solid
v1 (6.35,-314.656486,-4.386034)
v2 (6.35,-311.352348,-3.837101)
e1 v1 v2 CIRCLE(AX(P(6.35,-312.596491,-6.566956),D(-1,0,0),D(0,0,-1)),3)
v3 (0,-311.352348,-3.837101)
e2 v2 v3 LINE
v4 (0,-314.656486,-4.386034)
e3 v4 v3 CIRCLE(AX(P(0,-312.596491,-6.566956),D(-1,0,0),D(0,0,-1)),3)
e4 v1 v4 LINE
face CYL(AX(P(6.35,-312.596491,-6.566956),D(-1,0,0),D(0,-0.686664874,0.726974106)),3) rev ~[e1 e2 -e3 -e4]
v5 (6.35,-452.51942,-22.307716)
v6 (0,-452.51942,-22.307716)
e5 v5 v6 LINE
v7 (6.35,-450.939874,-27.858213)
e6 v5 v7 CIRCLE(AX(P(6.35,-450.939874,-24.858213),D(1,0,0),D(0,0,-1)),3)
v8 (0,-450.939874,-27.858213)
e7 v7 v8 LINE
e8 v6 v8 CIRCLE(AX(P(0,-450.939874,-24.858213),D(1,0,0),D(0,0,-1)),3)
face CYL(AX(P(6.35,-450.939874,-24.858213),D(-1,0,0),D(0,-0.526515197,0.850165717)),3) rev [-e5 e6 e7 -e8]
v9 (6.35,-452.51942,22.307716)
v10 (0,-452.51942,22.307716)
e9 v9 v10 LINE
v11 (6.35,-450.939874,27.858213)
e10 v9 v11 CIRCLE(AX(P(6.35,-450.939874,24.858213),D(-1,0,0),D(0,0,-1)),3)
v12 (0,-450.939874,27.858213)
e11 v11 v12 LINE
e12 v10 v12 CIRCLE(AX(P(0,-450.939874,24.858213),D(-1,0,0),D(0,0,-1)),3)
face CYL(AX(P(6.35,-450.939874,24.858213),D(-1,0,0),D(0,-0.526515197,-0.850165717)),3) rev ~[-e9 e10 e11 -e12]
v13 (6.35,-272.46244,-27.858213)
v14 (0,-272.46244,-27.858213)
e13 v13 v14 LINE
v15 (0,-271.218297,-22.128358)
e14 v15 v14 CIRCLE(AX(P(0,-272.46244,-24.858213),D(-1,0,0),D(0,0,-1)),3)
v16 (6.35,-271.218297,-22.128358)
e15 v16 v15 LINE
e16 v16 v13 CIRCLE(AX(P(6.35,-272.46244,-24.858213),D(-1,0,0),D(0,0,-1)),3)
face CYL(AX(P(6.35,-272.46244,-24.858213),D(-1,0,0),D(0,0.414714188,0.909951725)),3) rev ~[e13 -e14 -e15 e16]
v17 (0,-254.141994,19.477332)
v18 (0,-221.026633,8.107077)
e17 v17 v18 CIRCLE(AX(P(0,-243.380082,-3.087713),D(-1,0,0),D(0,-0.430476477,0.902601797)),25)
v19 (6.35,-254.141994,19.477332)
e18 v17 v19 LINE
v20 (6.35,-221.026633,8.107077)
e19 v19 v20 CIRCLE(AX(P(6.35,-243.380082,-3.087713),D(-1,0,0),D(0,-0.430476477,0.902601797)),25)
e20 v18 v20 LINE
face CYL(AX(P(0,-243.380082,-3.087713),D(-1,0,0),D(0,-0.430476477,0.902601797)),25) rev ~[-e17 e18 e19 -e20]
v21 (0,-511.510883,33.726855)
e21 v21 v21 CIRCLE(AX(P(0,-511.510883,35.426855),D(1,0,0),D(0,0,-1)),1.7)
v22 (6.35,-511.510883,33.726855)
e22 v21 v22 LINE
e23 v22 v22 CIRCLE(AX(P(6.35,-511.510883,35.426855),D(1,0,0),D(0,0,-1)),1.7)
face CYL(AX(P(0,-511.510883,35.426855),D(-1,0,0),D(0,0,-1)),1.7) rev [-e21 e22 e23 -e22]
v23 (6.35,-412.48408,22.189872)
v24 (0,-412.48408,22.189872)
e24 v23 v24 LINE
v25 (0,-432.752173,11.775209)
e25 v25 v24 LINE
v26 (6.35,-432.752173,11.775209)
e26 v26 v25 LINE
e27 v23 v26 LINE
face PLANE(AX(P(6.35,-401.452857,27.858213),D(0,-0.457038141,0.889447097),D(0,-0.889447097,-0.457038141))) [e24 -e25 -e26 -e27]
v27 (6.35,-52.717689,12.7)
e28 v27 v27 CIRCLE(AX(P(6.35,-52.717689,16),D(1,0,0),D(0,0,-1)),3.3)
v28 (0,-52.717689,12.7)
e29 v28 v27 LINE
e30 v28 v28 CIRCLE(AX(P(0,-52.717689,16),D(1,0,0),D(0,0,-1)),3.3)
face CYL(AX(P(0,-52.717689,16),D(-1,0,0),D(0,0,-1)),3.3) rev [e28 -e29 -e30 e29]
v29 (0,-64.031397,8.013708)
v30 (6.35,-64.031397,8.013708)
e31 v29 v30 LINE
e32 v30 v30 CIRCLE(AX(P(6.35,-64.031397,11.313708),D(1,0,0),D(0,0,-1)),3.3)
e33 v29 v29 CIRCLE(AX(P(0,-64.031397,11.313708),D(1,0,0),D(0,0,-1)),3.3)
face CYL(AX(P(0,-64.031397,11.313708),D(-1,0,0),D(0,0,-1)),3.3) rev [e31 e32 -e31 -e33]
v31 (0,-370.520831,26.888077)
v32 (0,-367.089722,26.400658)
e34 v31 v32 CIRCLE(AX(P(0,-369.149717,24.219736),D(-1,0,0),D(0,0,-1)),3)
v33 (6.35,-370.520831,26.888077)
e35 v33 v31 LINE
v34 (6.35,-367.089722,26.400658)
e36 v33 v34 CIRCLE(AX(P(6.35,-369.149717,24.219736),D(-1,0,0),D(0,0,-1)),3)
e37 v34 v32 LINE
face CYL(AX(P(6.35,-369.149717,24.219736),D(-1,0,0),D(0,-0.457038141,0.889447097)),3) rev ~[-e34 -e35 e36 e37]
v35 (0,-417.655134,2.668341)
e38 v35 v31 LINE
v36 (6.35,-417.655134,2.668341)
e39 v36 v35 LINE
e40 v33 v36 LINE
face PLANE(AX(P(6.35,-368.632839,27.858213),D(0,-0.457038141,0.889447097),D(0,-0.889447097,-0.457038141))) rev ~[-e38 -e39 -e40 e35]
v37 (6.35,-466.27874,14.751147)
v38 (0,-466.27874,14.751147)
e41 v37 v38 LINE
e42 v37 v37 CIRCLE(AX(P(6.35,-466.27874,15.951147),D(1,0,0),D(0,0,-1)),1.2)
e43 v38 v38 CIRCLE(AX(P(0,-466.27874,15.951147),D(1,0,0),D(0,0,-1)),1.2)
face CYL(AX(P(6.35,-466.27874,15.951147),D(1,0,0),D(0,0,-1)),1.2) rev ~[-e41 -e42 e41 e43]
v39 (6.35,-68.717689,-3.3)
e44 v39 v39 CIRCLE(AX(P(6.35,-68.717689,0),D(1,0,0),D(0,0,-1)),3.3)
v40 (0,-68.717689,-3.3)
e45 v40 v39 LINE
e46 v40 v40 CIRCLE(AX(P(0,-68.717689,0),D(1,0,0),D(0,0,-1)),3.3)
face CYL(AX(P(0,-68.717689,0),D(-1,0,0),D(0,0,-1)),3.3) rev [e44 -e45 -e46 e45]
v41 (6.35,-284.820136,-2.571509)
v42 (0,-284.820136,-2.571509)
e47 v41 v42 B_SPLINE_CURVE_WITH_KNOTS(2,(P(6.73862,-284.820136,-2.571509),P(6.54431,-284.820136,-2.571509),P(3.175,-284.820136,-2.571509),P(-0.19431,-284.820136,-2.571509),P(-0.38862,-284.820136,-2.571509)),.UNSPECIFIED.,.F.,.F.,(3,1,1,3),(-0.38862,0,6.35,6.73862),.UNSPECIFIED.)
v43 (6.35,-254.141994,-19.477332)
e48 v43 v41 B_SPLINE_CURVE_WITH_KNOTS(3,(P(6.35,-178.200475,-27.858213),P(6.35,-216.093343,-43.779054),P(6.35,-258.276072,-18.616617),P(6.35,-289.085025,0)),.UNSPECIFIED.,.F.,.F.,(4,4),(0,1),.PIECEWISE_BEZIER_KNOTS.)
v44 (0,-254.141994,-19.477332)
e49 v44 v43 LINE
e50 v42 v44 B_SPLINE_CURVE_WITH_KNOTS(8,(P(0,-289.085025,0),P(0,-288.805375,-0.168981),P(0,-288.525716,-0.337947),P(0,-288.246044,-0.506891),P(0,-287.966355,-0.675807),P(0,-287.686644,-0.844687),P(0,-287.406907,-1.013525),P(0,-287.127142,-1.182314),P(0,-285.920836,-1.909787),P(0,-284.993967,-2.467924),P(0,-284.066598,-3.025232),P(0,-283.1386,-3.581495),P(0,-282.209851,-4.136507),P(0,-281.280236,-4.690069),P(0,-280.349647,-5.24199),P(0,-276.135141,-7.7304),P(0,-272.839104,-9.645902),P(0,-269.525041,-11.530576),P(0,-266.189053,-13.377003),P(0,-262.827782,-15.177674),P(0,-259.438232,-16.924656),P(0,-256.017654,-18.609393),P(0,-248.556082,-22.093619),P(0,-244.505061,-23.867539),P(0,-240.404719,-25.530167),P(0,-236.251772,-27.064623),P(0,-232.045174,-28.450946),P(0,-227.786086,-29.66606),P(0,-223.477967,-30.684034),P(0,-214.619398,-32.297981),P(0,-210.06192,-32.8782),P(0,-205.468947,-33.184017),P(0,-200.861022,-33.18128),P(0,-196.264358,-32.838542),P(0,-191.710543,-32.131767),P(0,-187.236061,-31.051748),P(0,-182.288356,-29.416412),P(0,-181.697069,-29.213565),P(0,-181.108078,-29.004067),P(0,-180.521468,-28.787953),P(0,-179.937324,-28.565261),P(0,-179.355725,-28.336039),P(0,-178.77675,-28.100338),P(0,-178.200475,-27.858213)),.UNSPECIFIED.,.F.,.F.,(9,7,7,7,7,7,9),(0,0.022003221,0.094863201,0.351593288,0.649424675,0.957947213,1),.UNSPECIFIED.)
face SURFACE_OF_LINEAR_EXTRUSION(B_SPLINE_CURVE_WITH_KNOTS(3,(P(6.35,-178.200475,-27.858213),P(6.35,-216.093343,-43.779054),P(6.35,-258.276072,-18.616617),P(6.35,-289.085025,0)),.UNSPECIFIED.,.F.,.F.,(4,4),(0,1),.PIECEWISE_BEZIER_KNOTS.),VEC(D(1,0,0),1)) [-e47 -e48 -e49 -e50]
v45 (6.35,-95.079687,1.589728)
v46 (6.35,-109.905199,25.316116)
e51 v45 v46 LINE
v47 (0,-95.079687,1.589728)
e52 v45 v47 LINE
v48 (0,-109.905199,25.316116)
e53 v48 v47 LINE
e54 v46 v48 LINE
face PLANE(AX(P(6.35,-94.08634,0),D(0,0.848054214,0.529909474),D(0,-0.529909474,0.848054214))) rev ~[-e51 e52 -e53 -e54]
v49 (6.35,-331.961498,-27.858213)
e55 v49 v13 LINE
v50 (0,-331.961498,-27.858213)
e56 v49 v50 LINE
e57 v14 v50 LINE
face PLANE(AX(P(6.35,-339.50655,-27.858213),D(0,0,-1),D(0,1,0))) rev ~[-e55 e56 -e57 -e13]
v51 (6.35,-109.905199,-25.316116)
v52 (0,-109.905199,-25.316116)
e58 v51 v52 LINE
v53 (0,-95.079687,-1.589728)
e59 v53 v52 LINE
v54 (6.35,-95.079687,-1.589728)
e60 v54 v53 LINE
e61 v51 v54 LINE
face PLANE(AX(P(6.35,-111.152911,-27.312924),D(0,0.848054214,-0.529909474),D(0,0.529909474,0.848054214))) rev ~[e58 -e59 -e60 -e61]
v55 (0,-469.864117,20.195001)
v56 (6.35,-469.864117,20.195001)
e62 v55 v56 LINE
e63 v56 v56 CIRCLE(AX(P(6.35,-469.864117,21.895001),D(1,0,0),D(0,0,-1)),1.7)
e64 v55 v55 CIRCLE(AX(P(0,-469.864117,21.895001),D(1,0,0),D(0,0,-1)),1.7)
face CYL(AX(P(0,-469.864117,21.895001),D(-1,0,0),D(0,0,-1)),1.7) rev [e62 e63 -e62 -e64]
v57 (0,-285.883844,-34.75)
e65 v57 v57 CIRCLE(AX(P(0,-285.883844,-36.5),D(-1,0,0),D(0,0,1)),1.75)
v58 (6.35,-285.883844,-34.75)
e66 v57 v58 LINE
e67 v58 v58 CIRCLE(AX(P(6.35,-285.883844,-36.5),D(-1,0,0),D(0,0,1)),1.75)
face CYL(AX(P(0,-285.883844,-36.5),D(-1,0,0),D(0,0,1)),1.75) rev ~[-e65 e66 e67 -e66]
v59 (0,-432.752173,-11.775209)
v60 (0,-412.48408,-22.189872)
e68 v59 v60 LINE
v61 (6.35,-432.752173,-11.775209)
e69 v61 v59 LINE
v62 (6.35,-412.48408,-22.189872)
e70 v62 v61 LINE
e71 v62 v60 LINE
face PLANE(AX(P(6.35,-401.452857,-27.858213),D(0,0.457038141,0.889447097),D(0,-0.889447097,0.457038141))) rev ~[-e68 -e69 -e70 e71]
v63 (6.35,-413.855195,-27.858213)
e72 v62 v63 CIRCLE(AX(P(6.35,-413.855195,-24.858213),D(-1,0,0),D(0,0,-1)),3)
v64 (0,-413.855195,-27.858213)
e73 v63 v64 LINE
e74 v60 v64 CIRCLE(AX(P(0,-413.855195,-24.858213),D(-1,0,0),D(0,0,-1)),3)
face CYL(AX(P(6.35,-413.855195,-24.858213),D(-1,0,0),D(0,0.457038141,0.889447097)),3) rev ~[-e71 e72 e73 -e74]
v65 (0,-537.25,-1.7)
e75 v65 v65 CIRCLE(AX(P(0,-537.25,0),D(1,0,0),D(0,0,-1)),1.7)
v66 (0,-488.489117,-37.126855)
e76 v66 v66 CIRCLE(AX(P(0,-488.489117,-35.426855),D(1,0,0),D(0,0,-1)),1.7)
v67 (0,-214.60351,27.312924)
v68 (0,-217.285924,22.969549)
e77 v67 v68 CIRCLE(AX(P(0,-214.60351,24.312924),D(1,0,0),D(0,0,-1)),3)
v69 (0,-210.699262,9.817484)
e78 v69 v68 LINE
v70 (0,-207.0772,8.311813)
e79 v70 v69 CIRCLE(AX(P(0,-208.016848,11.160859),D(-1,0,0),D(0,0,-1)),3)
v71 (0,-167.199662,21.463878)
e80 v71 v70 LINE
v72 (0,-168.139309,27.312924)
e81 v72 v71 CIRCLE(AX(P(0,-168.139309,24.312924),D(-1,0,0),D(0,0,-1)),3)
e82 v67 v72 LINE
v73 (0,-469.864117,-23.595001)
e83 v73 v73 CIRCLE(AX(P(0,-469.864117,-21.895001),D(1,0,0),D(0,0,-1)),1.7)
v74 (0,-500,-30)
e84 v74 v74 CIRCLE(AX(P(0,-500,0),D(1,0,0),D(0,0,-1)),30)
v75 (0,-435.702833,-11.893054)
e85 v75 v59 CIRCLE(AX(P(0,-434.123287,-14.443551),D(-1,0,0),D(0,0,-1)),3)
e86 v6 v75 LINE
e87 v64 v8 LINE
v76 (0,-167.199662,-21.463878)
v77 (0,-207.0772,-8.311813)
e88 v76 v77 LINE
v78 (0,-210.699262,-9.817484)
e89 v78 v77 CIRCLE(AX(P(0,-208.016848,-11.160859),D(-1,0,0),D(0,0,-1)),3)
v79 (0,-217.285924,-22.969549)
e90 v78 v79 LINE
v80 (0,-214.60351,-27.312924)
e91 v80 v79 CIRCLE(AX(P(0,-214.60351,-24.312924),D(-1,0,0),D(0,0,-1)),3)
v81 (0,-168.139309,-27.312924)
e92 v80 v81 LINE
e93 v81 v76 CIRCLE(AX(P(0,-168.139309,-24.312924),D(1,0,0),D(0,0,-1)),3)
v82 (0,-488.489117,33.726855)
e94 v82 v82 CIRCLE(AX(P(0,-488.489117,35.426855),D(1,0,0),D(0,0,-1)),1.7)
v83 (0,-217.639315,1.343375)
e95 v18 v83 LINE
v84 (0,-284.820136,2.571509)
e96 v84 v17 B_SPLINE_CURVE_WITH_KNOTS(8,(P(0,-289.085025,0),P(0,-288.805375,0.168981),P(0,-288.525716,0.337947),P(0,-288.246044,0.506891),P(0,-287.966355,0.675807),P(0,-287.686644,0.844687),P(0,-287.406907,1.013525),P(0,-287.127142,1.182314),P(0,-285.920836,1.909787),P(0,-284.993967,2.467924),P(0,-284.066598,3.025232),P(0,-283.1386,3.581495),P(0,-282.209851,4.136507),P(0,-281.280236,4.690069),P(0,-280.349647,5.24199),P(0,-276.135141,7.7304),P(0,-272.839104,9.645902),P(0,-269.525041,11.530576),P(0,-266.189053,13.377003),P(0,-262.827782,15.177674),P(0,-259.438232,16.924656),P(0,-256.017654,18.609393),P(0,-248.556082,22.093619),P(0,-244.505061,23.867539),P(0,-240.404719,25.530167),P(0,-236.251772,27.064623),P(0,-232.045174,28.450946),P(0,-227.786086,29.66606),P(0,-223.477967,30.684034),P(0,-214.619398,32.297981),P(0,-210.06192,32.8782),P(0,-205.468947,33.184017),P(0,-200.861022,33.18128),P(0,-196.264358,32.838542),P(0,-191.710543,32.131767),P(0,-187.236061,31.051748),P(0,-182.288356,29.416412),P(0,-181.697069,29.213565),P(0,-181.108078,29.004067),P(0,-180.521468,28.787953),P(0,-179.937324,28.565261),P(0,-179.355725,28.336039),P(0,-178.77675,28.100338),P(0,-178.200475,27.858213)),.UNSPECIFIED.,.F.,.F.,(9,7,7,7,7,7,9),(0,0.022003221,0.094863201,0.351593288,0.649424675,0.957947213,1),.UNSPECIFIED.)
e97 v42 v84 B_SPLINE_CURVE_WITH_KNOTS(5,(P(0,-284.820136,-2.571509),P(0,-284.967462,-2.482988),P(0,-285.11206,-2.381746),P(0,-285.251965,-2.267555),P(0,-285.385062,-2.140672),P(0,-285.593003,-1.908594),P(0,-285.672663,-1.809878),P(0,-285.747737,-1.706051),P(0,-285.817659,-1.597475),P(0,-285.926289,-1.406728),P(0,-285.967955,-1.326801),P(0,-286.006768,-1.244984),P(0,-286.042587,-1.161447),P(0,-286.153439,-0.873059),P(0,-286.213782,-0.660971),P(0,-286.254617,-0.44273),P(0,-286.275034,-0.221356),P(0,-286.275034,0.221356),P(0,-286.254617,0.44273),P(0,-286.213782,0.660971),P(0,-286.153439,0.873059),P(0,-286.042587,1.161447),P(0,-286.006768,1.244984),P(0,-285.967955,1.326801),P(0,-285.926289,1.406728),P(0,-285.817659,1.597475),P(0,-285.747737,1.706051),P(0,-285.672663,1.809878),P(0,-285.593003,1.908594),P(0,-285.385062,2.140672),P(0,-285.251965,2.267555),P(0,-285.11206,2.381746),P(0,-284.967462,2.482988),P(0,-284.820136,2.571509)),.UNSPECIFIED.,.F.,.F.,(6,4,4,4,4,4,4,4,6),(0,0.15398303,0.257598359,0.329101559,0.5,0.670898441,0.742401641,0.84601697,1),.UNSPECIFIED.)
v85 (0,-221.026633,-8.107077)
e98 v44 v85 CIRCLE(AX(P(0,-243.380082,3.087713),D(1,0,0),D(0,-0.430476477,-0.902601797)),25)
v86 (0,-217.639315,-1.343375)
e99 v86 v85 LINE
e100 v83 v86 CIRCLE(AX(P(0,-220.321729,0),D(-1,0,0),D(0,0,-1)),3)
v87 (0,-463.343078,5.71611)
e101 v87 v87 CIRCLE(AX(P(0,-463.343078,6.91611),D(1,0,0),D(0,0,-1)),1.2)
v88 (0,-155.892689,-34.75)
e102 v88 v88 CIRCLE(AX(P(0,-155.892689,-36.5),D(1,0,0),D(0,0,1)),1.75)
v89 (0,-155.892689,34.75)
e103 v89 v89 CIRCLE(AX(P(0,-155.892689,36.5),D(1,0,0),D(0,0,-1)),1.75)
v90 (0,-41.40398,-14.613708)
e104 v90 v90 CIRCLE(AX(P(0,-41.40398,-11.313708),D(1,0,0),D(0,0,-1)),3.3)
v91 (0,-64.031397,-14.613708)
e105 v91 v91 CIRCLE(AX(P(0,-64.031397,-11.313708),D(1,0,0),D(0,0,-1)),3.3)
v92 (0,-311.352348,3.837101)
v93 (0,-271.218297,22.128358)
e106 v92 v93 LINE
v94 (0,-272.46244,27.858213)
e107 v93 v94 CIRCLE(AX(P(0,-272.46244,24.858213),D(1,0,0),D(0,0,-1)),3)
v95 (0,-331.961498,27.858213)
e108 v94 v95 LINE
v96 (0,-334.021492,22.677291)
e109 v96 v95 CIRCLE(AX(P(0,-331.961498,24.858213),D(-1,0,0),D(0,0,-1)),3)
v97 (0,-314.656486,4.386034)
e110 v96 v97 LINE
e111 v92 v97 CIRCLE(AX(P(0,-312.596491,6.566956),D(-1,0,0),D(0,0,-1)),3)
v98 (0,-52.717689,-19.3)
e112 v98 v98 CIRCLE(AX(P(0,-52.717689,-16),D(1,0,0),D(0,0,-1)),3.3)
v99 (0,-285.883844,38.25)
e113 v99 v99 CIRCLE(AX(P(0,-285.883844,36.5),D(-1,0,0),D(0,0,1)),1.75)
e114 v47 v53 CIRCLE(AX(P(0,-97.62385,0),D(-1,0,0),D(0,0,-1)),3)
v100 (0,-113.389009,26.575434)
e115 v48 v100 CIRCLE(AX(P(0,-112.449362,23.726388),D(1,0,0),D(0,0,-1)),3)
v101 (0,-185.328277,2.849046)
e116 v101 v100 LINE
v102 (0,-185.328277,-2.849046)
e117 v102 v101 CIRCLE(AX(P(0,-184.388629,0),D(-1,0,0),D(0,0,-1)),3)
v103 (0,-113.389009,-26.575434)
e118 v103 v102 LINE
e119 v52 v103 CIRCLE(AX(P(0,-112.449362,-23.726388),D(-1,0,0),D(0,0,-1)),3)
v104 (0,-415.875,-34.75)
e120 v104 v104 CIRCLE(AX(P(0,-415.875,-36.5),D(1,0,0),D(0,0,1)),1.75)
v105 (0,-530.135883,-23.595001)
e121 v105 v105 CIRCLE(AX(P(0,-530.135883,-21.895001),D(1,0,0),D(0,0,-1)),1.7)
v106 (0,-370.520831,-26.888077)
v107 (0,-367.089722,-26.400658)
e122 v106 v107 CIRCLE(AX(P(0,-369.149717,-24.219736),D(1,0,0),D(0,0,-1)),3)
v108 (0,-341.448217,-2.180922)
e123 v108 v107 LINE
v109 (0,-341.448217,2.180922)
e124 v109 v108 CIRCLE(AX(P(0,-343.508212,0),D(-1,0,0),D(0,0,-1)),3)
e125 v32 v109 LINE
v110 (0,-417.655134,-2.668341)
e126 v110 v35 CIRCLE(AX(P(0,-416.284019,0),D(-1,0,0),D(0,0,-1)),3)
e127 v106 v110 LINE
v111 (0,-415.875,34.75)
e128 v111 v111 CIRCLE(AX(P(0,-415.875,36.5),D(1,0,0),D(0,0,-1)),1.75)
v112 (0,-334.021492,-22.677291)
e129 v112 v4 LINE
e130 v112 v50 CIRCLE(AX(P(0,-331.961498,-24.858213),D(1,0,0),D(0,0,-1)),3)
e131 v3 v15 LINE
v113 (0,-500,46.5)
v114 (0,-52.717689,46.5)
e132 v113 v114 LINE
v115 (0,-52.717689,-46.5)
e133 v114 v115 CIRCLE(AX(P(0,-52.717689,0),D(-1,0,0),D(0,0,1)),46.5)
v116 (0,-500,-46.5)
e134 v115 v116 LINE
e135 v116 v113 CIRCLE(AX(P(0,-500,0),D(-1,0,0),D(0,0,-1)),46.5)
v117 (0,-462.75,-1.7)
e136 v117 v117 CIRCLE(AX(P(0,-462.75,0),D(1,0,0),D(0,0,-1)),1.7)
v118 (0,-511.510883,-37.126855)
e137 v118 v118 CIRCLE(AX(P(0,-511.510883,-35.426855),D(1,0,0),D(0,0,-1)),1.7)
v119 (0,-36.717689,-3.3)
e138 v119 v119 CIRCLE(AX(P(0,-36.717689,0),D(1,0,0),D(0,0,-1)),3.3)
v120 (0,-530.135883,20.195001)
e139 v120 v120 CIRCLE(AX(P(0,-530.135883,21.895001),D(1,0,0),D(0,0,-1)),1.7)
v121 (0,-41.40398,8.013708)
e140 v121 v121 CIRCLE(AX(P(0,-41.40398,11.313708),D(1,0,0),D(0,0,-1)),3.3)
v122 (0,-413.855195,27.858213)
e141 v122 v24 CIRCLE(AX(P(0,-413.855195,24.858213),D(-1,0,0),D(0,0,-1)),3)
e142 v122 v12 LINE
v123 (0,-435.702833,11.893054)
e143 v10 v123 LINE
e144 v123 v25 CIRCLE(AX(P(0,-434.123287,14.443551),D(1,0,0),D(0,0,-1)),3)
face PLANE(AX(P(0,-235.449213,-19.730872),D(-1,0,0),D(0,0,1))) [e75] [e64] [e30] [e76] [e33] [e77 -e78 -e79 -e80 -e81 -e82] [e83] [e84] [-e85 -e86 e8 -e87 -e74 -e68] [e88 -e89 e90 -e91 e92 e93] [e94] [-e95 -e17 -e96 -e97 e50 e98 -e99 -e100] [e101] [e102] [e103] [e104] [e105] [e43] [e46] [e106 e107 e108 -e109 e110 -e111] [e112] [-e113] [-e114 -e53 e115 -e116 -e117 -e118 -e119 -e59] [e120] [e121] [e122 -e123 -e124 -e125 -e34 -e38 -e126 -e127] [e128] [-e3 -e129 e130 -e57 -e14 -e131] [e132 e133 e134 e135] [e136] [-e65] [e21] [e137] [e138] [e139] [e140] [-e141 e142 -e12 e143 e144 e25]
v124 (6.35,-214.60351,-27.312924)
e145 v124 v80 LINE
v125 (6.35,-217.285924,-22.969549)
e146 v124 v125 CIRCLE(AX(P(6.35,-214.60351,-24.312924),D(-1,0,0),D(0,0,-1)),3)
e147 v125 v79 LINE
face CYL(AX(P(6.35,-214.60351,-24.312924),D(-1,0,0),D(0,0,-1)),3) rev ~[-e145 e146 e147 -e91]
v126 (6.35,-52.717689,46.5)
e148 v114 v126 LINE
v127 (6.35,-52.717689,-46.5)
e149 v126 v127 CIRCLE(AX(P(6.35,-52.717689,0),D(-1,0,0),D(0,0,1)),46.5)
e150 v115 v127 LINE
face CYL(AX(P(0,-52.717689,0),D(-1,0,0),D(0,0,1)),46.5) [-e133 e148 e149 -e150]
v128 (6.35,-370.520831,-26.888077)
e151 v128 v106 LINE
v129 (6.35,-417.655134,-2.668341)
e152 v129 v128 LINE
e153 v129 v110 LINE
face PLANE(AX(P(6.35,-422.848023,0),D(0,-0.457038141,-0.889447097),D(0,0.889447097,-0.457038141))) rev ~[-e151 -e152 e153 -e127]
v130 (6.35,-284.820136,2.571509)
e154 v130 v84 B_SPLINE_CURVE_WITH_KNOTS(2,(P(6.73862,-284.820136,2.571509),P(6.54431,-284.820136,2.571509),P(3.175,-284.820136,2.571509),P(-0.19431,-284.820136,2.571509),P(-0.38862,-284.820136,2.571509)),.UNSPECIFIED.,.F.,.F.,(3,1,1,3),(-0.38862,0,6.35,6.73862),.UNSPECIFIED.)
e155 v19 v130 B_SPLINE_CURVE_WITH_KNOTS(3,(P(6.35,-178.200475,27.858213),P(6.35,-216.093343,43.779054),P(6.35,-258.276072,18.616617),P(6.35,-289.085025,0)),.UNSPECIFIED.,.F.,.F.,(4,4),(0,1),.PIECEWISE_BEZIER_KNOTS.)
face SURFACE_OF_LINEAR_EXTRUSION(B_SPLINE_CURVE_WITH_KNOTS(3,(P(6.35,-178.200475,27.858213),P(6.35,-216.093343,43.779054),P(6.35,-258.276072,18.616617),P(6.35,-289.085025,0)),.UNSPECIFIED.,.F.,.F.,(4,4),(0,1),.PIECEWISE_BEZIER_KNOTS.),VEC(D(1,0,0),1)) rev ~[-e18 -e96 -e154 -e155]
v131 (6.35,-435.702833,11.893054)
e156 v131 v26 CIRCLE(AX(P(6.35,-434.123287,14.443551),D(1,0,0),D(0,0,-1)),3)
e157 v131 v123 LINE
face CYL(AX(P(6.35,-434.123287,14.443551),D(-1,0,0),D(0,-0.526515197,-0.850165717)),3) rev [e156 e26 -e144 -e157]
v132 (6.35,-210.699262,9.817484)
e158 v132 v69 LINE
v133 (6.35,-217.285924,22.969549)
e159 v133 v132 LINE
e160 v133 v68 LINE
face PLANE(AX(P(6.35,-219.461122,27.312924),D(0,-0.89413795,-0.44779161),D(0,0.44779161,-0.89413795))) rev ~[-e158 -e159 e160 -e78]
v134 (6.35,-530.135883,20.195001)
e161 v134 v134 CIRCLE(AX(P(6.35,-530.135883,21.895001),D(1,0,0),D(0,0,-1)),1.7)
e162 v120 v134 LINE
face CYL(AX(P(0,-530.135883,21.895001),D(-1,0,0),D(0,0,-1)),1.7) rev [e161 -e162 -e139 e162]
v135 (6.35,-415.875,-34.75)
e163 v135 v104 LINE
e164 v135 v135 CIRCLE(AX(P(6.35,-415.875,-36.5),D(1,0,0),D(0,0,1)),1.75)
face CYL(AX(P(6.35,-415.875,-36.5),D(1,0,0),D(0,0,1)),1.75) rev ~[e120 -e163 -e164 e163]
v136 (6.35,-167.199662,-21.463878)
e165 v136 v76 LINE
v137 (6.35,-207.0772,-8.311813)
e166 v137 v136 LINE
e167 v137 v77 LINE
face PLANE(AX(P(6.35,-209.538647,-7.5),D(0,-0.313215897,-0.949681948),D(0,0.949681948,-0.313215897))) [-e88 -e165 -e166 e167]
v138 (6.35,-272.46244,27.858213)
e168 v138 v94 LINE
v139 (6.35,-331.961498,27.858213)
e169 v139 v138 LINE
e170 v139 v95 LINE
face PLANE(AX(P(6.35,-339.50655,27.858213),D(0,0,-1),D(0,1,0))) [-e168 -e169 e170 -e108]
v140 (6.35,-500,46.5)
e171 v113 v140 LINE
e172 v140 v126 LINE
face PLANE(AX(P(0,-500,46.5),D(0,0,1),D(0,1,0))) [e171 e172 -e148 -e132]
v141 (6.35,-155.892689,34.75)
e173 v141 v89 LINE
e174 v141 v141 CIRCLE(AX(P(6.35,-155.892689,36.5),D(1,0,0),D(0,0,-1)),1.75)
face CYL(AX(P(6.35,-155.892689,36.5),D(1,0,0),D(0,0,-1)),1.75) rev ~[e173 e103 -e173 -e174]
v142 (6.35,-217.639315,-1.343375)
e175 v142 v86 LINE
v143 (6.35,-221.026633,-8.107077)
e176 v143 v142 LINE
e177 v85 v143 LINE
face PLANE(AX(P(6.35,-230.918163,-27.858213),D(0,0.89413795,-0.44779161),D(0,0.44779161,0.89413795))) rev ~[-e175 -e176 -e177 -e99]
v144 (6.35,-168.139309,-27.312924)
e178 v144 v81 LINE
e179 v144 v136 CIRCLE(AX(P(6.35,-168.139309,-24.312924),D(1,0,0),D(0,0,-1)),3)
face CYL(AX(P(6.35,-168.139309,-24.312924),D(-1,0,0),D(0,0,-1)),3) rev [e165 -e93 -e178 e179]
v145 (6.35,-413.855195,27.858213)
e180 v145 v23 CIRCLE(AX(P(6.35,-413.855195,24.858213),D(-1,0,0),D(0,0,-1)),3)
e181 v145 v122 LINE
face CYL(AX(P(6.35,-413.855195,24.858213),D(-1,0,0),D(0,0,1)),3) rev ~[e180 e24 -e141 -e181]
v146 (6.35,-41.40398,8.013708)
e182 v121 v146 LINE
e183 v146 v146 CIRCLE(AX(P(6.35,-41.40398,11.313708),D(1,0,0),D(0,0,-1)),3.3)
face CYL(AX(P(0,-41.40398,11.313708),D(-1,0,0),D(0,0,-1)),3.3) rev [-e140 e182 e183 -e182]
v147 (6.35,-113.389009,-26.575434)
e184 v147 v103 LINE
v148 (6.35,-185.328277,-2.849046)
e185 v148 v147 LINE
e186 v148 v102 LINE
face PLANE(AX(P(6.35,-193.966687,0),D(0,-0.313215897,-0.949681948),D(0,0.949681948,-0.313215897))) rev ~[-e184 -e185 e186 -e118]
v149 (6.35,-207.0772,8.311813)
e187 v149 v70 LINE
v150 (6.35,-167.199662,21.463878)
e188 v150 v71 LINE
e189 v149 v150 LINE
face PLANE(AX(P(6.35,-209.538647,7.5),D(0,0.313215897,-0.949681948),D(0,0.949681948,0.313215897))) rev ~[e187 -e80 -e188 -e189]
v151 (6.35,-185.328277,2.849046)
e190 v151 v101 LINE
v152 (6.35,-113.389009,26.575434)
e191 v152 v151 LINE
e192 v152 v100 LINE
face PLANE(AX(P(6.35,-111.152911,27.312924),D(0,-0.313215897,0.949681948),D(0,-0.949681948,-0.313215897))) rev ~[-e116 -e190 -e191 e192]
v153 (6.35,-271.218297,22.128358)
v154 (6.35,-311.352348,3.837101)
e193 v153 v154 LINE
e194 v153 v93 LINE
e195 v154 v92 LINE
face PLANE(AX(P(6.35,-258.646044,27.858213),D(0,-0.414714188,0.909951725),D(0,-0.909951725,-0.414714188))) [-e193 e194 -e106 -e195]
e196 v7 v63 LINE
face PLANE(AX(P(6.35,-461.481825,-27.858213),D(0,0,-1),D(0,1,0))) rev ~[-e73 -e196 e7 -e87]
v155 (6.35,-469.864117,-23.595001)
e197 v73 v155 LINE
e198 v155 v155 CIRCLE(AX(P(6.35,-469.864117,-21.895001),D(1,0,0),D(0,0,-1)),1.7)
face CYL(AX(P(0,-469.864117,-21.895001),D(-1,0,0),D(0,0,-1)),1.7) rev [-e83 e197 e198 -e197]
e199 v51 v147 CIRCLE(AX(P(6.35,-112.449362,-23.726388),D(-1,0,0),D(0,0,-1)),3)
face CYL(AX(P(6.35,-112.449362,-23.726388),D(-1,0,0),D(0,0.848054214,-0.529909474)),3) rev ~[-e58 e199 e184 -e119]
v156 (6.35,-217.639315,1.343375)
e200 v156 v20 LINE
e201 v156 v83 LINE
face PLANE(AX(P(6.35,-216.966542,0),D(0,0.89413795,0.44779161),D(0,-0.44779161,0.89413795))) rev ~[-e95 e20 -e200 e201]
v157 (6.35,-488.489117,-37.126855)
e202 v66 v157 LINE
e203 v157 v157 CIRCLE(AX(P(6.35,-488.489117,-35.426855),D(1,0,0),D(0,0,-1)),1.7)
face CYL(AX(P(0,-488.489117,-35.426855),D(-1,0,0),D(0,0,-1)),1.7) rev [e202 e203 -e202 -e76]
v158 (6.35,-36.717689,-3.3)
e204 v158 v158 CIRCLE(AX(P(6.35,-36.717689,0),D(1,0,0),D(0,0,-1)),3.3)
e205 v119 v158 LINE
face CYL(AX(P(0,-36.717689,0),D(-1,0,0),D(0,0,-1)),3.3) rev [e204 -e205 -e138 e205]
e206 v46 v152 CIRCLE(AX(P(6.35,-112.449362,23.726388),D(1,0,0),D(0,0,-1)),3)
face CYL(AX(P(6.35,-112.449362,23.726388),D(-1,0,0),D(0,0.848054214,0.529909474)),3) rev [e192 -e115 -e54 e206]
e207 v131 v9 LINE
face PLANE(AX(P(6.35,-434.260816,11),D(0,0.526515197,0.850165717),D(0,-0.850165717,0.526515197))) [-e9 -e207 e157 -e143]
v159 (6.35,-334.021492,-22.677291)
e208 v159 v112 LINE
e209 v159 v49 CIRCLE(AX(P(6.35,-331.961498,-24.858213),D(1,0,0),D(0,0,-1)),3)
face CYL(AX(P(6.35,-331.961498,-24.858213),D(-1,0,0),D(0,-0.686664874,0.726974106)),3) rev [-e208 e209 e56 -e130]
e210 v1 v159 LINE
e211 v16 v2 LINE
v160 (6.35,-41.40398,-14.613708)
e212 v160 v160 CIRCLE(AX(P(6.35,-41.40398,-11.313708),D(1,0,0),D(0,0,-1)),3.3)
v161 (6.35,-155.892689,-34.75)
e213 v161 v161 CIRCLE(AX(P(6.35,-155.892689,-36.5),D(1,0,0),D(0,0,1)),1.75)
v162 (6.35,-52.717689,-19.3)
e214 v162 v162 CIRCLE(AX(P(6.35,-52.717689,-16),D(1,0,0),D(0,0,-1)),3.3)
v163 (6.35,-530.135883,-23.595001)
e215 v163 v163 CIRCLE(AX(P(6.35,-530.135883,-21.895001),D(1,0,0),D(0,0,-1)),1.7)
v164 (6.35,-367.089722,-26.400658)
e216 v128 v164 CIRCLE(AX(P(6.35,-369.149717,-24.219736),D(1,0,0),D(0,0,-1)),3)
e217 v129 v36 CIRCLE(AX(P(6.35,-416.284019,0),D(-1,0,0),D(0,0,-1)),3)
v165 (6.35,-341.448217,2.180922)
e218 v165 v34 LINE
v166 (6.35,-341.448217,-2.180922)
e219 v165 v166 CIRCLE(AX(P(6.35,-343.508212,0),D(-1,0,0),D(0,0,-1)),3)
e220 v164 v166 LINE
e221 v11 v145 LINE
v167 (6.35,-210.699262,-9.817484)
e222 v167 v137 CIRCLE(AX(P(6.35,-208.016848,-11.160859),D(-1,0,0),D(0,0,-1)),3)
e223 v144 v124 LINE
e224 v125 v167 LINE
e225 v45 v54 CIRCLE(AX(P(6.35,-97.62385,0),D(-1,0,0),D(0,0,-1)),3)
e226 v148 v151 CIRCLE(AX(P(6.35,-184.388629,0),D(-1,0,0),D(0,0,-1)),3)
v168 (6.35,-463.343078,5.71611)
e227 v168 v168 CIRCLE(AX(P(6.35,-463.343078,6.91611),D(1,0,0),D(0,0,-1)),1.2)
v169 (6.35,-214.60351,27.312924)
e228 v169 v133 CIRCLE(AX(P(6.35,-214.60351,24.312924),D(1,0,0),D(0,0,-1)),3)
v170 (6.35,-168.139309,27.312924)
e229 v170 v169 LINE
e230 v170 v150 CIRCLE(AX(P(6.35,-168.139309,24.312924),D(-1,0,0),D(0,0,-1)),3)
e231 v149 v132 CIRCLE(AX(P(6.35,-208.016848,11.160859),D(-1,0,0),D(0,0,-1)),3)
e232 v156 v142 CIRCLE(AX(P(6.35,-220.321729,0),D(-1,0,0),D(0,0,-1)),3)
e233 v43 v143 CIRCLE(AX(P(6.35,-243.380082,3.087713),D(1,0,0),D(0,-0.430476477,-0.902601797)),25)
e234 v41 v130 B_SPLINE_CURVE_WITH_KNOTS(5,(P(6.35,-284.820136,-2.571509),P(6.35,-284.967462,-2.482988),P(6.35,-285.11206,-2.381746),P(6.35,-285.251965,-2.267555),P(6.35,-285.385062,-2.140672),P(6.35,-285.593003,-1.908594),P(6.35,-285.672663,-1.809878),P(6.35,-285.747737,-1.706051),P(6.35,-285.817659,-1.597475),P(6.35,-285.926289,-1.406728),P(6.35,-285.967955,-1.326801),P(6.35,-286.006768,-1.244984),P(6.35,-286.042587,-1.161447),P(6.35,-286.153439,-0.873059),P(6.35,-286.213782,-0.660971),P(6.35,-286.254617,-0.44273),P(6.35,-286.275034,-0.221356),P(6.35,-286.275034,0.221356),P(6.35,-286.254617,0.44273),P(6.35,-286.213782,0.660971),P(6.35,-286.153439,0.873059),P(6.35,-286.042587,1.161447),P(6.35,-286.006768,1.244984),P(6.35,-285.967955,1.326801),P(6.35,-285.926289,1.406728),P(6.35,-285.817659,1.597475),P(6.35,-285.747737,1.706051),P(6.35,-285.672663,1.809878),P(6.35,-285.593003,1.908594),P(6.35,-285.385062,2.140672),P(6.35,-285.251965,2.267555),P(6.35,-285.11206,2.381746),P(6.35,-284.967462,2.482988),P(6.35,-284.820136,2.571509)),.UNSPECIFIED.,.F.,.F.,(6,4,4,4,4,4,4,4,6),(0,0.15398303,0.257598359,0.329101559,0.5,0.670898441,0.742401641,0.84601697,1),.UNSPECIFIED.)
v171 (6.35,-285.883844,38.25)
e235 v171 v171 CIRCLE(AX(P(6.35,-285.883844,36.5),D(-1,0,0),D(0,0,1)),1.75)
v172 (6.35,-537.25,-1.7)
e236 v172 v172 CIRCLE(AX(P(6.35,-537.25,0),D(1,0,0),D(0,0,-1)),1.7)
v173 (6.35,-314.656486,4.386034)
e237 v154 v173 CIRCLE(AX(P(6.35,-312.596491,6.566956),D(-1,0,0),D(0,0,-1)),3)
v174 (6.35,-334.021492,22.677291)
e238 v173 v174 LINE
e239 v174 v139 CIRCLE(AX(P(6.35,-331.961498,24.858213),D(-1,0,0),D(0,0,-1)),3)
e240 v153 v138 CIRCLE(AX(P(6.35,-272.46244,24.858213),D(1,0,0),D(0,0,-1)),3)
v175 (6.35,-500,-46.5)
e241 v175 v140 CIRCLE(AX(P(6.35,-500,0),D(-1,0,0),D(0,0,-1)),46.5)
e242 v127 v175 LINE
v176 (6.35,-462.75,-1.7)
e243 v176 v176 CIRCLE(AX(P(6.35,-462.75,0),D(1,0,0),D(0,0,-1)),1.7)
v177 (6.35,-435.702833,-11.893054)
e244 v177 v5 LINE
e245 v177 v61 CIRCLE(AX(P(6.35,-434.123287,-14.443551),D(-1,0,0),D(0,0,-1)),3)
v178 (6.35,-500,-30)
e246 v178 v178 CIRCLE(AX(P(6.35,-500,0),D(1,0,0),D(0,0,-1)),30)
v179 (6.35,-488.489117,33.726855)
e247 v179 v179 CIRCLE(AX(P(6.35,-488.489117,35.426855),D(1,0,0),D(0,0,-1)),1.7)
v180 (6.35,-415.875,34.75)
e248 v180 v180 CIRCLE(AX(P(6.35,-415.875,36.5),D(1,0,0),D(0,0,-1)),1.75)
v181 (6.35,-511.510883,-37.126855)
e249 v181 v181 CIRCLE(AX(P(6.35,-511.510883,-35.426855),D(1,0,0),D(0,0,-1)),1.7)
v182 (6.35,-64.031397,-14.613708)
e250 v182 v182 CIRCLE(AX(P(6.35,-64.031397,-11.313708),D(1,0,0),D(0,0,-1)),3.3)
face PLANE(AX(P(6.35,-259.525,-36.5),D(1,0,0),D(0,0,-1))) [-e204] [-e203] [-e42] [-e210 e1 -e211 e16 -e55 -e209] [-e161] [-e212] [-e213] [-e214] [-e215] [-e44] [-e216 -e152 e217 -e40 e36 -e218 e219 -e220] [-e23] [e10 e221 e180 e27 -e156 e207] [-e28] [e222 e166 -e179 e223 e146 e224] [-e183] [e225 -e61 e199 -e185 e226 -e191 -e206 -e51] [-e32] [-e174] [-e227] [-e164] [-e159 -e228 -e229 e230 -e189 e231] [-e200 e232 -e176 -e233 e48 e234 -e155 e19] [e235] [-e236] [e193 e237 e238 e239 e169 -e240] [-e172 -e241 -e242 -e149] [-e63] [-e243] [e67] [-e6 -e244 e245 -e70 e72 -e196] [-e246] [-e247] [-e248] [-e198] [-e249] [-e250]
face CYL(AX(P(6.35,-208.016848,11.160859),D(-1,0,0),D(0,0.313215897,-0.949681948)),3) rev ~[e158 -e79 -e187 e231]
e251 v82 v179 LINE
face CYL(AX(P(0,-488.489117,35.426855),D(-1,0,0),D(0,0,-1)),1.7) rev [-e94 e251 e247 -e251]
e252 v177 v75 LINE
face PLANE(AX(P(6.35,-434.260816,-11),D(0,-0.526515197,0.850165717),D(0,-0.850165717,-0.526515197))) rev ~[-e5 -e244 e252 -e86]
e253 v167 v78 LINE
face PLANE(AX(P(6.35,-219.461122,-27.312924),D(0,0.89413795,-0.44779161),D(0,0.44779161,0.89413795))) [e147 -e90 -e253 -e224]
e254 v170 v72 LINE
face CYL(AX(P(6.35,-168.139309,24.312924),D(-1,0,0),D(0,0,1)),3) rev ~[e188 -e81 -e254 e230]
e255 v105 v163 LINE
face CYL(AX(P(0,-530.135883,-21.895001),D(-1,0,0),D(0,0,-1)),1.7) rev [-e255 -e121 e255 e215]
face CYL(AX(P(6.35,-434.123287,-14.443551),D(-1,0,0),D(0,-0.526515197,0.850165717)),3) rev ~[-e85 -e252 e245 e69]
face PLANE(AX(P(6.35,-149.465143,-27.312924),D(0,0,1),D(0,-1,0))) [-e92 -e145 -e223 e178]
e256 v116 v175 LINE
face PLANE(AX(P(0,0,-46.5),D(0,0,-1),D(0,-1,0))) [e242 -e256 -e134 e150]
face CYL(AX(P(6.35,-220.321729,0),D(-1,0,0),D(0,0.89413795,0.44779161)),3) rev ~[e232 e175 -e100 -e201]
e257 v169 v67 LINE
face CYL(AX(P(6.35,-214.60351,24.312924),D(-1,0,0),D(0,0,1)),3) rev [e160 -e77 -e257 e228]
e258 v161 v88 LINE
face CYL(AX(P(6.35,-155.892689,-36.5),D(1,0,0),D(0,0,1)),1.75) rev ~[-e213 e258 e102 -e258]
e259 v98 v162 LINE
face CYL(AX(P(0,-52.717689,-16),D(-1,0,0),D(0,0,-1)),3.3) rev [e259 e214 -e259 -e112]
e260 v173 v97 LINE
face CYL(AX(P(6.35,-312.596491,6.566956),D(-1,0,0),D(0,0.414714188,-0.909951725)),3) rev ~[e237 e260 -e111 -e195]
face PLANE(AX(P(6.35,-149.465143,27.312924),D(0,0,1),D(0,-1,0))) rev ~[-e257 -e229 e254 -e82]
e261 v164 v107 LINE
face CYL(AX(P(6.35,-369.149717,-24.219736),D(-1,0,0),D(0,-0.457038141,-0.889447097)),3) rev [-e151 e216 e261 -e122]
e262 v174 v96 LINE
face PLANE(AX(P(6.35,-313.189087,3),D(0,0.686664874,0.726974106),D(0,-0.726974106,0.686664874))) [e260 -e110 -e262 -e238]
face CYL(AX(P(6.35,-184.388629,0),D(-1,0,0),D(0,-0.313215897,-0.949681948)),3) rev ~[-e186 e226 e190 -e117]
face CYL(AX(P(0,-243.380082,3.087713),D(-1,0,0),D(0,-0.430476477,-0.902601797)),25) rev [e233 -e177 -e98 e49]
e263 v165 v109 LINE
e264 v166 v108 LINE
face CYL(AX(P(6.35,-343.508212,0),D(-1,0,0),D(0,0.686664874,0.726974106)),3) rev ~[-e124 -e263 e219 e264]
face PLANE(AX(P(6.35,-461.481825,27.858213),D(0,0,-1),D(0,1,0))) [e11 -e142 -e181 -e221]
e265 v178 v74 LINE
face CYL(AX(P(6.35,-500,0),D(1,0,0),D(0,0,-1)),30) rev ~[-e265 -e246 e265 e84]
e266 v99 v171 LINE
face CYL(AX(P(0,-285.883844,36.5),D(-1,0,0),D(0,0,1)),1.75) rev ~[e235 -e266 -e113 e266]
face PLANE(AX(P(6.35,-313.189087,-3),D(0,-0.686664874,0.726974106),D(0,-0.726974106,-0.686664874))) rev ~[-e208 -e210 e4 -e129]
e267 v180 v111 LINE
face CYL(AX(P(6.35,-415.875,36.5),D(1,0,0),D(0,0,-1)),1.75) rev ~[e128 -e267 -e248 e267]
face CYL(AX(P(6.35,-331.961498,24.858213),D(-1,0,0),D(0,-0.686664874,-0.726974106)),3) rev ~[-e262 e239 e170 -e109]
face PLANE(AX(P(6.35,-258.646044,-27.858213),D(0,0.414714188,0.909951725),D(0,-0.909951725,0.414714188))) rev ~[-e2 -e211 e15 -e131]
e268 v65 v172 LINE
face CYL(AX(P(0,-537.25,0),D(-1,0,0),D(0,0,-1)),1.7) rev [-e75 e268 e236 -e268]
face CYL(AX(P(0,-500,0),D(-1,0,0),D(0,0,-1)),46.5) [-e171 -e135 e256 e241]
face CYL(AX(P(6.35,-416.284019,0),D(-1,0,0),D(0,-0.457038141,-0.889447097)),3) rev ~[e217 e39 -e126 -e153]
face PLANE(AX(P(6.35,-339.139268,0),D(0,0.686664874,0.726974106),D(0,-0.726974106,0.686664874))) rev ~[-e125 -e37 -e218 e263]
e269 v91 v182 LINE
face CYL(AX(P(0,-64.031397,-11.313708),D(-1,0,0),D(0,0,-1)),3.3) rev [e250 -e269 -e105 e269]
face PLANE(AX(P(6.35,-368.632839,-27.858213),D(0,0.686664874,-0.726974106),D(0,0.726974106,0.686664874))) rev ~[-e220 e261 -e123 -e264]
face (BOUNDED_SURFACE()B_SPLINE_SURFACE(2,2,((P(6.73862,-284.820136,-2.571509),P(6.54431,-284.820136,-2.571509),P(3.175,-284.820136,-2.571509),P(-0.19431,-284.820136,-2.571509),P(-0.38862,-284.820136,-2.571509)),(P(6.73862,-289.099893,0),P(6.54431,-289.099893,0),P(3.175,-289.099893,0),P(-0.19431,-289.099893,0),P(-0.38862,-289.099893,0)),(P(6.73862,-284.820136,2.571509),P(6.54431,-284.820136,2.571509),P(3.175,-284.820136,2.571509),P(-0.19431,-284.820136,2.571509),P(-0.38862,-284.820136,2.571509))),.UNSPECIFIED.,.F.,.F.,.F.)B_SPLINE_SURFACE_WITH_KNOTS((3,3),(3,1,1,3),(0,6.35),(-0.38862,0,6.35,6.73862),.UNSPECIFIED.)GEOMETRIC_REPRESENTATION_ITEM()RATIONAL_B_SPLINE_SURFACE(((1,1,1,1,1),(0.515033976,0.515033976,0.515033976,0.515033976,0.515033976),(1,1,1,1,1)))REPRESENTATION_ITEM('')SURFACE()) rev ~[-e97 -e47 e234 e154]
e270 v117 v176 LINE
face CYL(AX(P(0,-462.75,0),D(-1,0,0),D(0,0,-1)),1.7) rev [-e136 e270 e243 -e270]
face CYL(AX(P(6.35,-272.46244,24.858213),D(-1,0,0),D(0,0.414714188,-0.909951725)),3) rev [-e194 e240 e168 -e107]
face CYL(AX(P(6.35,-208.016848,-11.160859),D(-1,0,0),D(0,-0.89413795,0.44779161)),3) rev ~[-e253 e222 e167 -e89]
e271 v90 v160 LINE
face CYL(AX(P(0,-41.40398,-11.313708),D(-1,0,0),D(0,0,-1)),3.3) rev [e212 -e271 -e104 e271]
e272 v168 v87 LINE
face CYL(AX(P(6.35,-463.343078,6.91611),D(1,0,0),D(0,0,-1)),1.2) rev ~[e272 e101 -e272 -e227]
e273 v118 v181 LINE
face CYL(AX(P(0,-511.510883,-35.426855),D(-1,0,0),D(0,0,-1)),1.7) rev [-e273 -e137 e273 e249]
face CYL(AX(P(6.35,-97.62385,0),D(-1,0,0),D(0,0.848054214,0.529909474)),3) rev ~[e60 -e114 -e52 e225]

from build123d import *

# Parameters (mm, degrees)
SKETCH1_R                            = 3.3
SKETCH1_R_2                          = 1.7
SKETCH1_R_3                          = 26
BOSS_EXTRUDE1_DEPTH                  = 6.35
CUT_EXTRUDE1_DEPTH                   = 549.511460682
FILLET1_R                            = 3
SKETCH4_R                            = 1.75
CUT_EXTRUDE2_DEPTH                   = 549.511460792
SKETCH5_R                            = 1.2
CUT_EXTRUDE4_DEPTH                   = 549.511460792
BOSS_EXTRUDE2_START                  = -6.35
BOSS_EXTRUDE2_DEPTH                  = 6.35
TAP_DRILL_FOR_M3X0_5_TAP1_AT_2_COUNT = 2
TAP_DRILL_FOR_M3X0_5_TAP1_AT_2_PITCH = 13.03070812
CIRPATTERN1_COUNT                    = 2
CIRPATTERN1_ANGLE                    = 90
CUT_EXTRUDE5_DEPTH                   = 549.511460792
SKETCH10_R                           = 30
CUT_EXTRUDE6_DEPTH                   = 549.511460792
SKETCH11_W                           = 93
SKETCH11_H                           = 52.717688801
CUT_EXTRUDE7_DEPTH                   = 549.511460792
BOSS_EXTRUDE3_DEPTH                  = 6.35
SKETCH13_R                           = 1.75
CUT_EXTRUDE8_DEPTH                   = 549.511460792
SKETCH14_R                           = 1.75
BOSS_EXTRUDE4_DEPTH                  = 6.35


with BuildPart() as part:
    # Sketch1 → Boss-Extrude1 (new body)
    with BuildSketch(Plane(origin=(0, 0, 0), x_dir=(0, -1, 0), z_dir=(1, 0, 0))):
        with BuildLine():
            Line((0, 46.5), (500, 46.5))
            ThreePointArc((500, 46.5), (546.5, 0), (500, -46.5))
            Line((500, -46.5), (0, -46.5))
            ThreePointArc((0, -46.5), (-46.5, 0), (0, 46.5))
        make_face()
        with Locations(Location((-16, 0, 0), (0, 0, 90))):
            Circle(SKETCH1_R, mode=Mode.SUBTRACT)
        with Locations(Location((-11.313708499, 11.313708499, 0), (0, 0, 90))):
            Circle(SKETCH1_R, mode=Mode.SUBTRACT)
        with Locations(Location((0, 16, 0), (0, 0, 90))):
            Circle(SKETCH1_R, mode=Mode.SUBTRACT)
        with Locations(Location((11.313708499, 11.313708499, 0), (0, 0, 90))):
            Circle(SKETCH1_R, mode=Mode.SUBTRACT)
        with Locations(Location((16, 0, 0), (0, 0, 90))):
            Circle(SKETCH1_R, mode=Mode.SUBTRACT)
        with Locations(Location((11.313708499, -11.313708499, 0), (0, 0, 90))):
            Circle(SKETCH1_R, mode=Mode.SUBTRACT)
        with Locations(Location((537.25, 0, 0), (0, 0, 90))):
            Circle(SKETCH1_R_2, mode=Mode.SUBTRACT)
        with Locations(Location((530.13588304, -21.895000648, 0), (0, 0, 90))):
            Circle(SKETCH1_R_2, mode=Mode.SUBTRACT)
        with Locations(Location((511.51088304, -35.426855232, 0), (0, 0, 90))):
            Circle(SKETCH1_R_2, mode=Mode.SUBTRACT)
        with Locations(Location((488.48911696, -35.426855232, 0), (0, 0, 90))):
            Circle(SKETCH1_R_2, mode=Mode.SUBTRACT)
        with Locations(Location((469.86411696, -21.895000648, 0), (0, 0, 90))):
            Circle(SKETCH1_R_2, mode=Mode.SUBTRACT)
        with Locations(Location((462.75, 0, 0), (0, 0, 90))):
            Circle(SKETCH1_R_2, mode=Mode.SUBTRACT)
        with Locations(Location((469.86411696, 21.895000648, 0), (0, 0, 90))):
            Circle(SKETCH1_R_2, mode=Mode.SUBTRACT)
        with Locations(Location((488.48911696, 35.426855232, 0), (0, 0, 90))):
            Circle(SKETCH1_R_2, mode=Mode.SUBTRACT)
        with Locations(Location((511.51088304, 35.426855232, 0), (0, 0, 90))):
            Circle(SKETCH1_R_2, mode=Mode.SUBTRACT)
        with Locations(Location((530.13588304, 21.895000648, 0), (0, 0, 90))):
            Circle(SKETCH1_R_2, mode=Mode.SUBTRACT)
        with Locations(Location((500, 0, 0), (0, 0, 90))):
            Circle(SKETCH1_R_3, mode=Mode.SUBTRACT)
        with Locations(Location((0, -16, 0), (0, 0, 90))):
            Circle(SKETCH1_R, mode=Mode.SUBTRACT)
        with Locations(Location((-11.313708499, -11.313708499, 0), (0, 0, 90))):
            Circle(SKETCH1_R, mode=Mode.SUBTRACT)
    extrude(amount=BOSS_EXTRUDE1_DEPTH)

    # Sketch3 → Cut-Extrude1 (cut, through all)
    with BuildSketch(Plane(origin=(6.35, 0, 0), x_dir=(0, 0, -1), z_dir=(1, 0, 0))):
        Polygon((0, -422.848022722), (27.858212922, -368.632839363), (0, -339.139268075), (-27.858212922, -368.632839363), align=None)
        Polygon((0, -41.368651369), (-27.312924288, -58.435222232), (0, -141.248998295), (27.312924288, -58.435222232), align=None)
        Polygon((3, -313.189087212), (27.858212922, -339.506549748), (27.858212922, -258.646044282), align=None)
        Polygon((-27.858212922, -339.506549748), (-27.858212922, -258.646044282), (-3, -313.189087212), align=None)
        Polygon((-27.858212922, -401.452857349), (-11, -434.260816252), (-27.858212922, -461.481824785), align=None)
        Polygon((11, -434.260816252), (27.858212922, -461.481824785), (27.858212922, -401.452857349), align=None)
        with BuildLine():
            Line((0, -164.248853344), (-27.858212922, -178.200474573))
            add(Edge.make_bspline(
                [(-27.858212922, -178.200474573), (-43.7790539, -216.093343216), (-18.61661693, -258.276071598), (0, -289.085024731)],
                knots=[0, 0, 0, 0, 1, 1, 1, 1], degree=3))
            add(Edge.make_bspline(
                [(27.858212922, -178.200474573), (43.7790539, -216.093343216), (18.61661693, -258.276071598), (0, -289.085024731)],
                knots=[0, 0, 0, 0, 1, 1, 1, 1], degree=3))
            Line((27.858212922, -178.200474573), (0, -164.248853344))
        make_face()
        Polygon((7.5, -156.820958214), (27.312924288, -96.747453897), (27.312924288, -166.743432993), align=None)
        Polygon((-27.312924288, -96.747453897), (-27.312924288, -166.743432993), (-7.5, -156.820958214), align=None)
    extrude(amount=-CUT_EXTRUDE1_DEPTH, mode=Mode.SUBTRACT)

    # Fillet1
    fillet1_edges = [part.edges().sort_by_distance(p)[0] for p in [
        (3.175, -58.435222232, -27.312924288),
        (3.175, -41.368651369, 0),
        (3.175, -58.435222232, 27.312924288),
        (3.175, -141.248998295, 0),
        (3.175, -289.085024731, 0),
        (3.175, -164.248853344, 0),
        (3.175, -401.452857349, 27.858212922),
        (3.175, -434.260816252, 11),
        (3.175, -461.481824785, 27.858212922),
        (3.175, -461.481824785, -27.858212922),
        (3.175, -434.260816252, -11),
        (3.175, -401.452857349, -27.858212922),
        (3.175, -368.632839363, -27.858212922),
        (3.175, -339.139268075, 0),
        (3.175, -368.632839363, 27.858212922),
        (3.175, -422.848022722, 0),
        (3.175, -313.189087212, 3),
        (3.175, -339.506549748, 27.858212922),
        (3.175, -258.646044282, 27.858212922),
        (3.175, -178.200474573, -27.858212922),
        (3.175, -178.200474573, 27.858212922),
        (3.175, -339.506549748, -27.858212922),
        (3.175, -313.189087212, -3),
        (3.175, -258.646044282, -27.858212922),
        (3.175, -96.747453897, 27.312924288),
        (3.175, -166.743432993, 27.312924288),
        (3.175, -156.820958214, 7.5),
        (3.175, -166.743432993, -27.312924288),
        (3.175, -156.820958214, -7.5),
        (3.175, -96.747453897, -27.312924288),
    ]]
    fillet(fillet1_edges, radius=FILLET1_R)

    # Sketch4 → Cut-Extrude2 (cut, through all)
    with BuildSketch(Plane(origin=(6.35, 0, 0), x_dir=(0, 0, -1), z_dir=(1, 0, 0))):
        with Locations((-36.5, -103.175)):
            Circle(SKETCH4_R)
        with Locations(Location((36.5, -103.175, 0), (0, 0, 180))):
            Circle(SKETCH4_R)
        with Locations(Location((-36.5, -259.525, 0), (0, 0, 180))):
            Circle(SKETCH4_R)
        with Locations((36.5, -259.525)):
            Circle(SKETCH4_R)
        with Locations((-36.5, -415.875)):
            Circle(SKETCH4_R)
        with Locations(Location((36.5, -415.875, 0), (0, 0, 180))):
            Circle(SKETCH4_R)
    extrude(amount=-CUT_EXTRUDE2_DEPTH, mode=Mode.SUBTRACT)

    # Sketch5 → Cut-Extrude4 (cut, through all)
    with BuildSketch(Plane(origin=(6.35, 0, 0), x_dir=(0, 0, -1), z_dir=(1, 0, 0))):
        with Locations((-6.916110339, -463.343078174)):
            Circle(SKETCH5_R)
        with Locations((-15.951147244, -466.27873962)):
            Circle(SKETCH5_R)
    extrude(amount=-CUT_EXTRUDE4_DEPTH, mode=Mode.SUBTRACT)

    # Sketch6 → Boss-Extrude2 (add)
    with BuildSketch(Plane(origin=(6.35, 0, 0), x_dir=(0, 0, -1), z_dir=(1, 0, 0)).offset(BOSS_EXTRUDE2_START)):
        with BuildLine():
            Line((-44.110383395, -529.968247771), (-29.968247771, -544.110383395))
            ThreePointArc((-29.968247771, -544.110383395), (-23.286397782, -542.399293624), (-16.474718596, -543.483717035))
            ThreePointArc((-16.474718596, -543.483717035), (-32.880465325, -532.880465325), (-43.483717035, -516.474718596))
            ThreePointArc((-43.483717035, -516.474718596), (-42.399293624, -523.286397782), (-44.110383395, -529.968247771))
        make_face()
    boss_extrude2 = extrude(amount=BOSS_EXTRUDE2_DEPTH)

    # Sketch8 → Tap Drill for M3x0.5 Tap1 (revolve, cut)
    with BuildSketch(Plane(origin=(3.175, -532.796674896, 41.28195627), x_dir=(0, -0.7071067811865424, -0.7071067811865527), z_dir=(1, 0, 0))):
        Polygon((0, 0), (0, 5.751075774), (1.25, 5), (1.25, 0), align=None)
    tap_drill_for_m3x0_5_tap1 = revolve(axis=Axis((3.175, -537.286802956, 45.772084331), (0, 0.7071067811865529, -0.7071067811865422)), mode=Mode.SUBTRACT)

    # Tap Drill for M3x0.5 Tap1 at 2: Tap Drill for M3x0.5 Tap1 ×2
    with Locations(*[Vector(0, -0.7071067811865422, -0.7071067811865529) * (i * TAP_DRILL_FOR_M3X0_5_TAP1_AT_2_PITCH) for i in range(1, TAP_DRILL_FOR_M3X0_5_TAP1_AT_2_COUNT)]):
        add(tap_drill_for_m3x0_5_tap1, mode=Mode.SUBTRACT)

    # CirPattern1: Boss-Extrude2, Tap Drill for M3x0.5 Tap1 ×2 about axis
    cirpattern1_axis = Axis((0, -500, 0), (1, 0, 0))
    add([boss_extrude2.rotate(cirpattern1_axis, i * CIRPATTERN1_ANGLE / (CIRPATTERN1_COUNT - 1)) for i in range(1, CIRPATTERN1_COUNT)])
    add([tap_drill_for_m3x0_5_tap1.rotate(cirpattern1_axis, i * CIRPATTERN1_ANGLE / (CIRPATTERN1_COUNT - 1)) for i in range(1, CIRPATTERN1_COUNT)], mode=Mode.SUBTRACT)

    # CirPattern1 copy 1 sketch → CirPattern1 copy 1 (revolve, cut)
    with BuildSketch(Plane(origin=(3.175, -532.067854195, -42.010776971), x_dir=(0, 0.7071067811865551, -0.7071067811865399), z_dir=(1, 0, 0))):
        Polygon((0, 0), (0, 5.751075774), (1.25, 5), (1.25, 0), align=None)
    revolve(axis=Axis((3.175, -536.557982255, -46.500905032), (0, 0.7071067811865398, 0.7071067811865553)), mode=Mode.SUBTRACT)

    # Sketch9 → Cut-Extrude5 (cut, through all)
    with BuildSketch(Plane(origin=(6.35, 0, 0), x_dir=(0, 0, -1), z_dir=(1, 0, 0))):
        with BuildLine():
            Line((-43.483717035, -516.474718596), (-63.483717035, -516.474718596))
            ThreePointArc((-63.483717035, -516.474718596), (0, -565.586573942), (63.483717035, -516.474718596))
            Line((63.483717035, -516.474718596), (43.483717035, -516.474718596))
            ThreePointArc((43.483717035, -516.474718596), (0, -546.5), (-43.483717035, -516.474718596))
        make_face()
    extrude(amount=-CUT_EXTRUDE5_DEPTH, mode=Mode.SUBTRACT)

    # Sketch10 → Cut-Extrude6 (cut, through all)
    with BuildSketch(Plane(origin=(6.35, 0, 0), x_dir=(0, 0, -1), z_dir=(1, 0, 0))):
        with Locations((0, -500)):
            Circle(SKETCH10_R)
    extrude(amount=-CUT_EXTRUDE6_DEPTH, mode=Mode.SUBTRACT)

    # Sketch11 → Cut-Extrude7 (cut, through all)
    with BuildSketch(Plane.ZY):
        with Locations((0, -205.625859872)):
            Rectangle(SKETCH11_W, SKETCH11_H)
    extrude(amount=-CUT_EXTRUDE7_DEPTH, mode=Mode.SUBTRACT)


with BuildPart() as cut_extrude7_piece_1:
    # of the separate pieces the step leaves, piece 1, a body of its own (cut_extrude7_pieces)
    add(part.part.solids().sort_by_distance((0, -500, 46.5))[0])


with BuildPart() as cut_extrude7_piece_2:
    # of the separate pieces the step leaves, piece 2, a body of its own (cut_extrude7_pieces)
    add(part.part.solids().sort_by_distance((0, -179.267015471, 46.5))[0])


with BuildPart() as cut_extrude7_piece_2_1:
    # Body-Move/Copy1: moved
    add(cut_extrude7_piece_2.part.moved(Location((0, -52.7176888, 0))))

    # Combine1: union Cut-Extrude7 piece 1
    add(cut_extrude7_piece_1.part)

    # Sketch12 → Boss-Extrude3 (add)
    with BuildSketch(Plane.ZY):
        with BuildLine():
            Line((-8.107077378, -221.026632904), (-26.8521577, -230.414322677))
            ThreePointArc((-26.8521577, -230.414322677), (-27.717865763, -231.066969848), (-28.295067899, -231.984704273))
            add(Edge.make_bspline(
                [(-19.477332048, -254.141993575), (-22.908456866, -246.947780666), (-25.966776611, -239.522857913), (-28.295067899, -231.984704273)],
                knots=[0.341715687, 0.341715687, 0.341715687, 0.341715687, 0.53746001, 0.53746001, 0.53746001, 0.53746001], degree=3))
            ThreePointArc((-19.477332048, -254.141993575), (-20.557337263, -235.261485452), (-8.107077378, -221.026632904))
        make_face()
        with BuildLine():
            Line((8.107077378, -221.026632904), (26.8521577, -230.414322677))
            ThreePointArc((26.8521577, -230.414322677), (27.717865763, -231.066969848), (28.295067899, -231.984704273))
            add(Edge.make_bspline(
                [(19.477332048, -254.141993575), (22.908456866, -246.947780666), (25.966776611, -239.522857913), (28.295067899, -231.984704273)],
                knots=[0.341715687, 0.341715687, 0.341715687, 0.341715687, 0.53746001, 0.53746001, 0.53746001, 0.53746001], degree=3))
            ThreePointArc((19.477332048, -254.141993575), (20.557337263, -235.261485452), (8.107077378, -221.026632904))
        make_face()
    extrude(amount=-BOSS_EXTRUDE3_DEPTH)

    # Sketch13 → Cut-Extrude8 (cut, through all)
    with BuildSketch(Plane.ZY):
        with Locations((-36.5, -285.8838444)):
            Circle(SKETCH13_R)
        with Locations((36.5, -285.8838444)):
            Circle(SKETCH13_R)
    extrude(amount=-CUT_EXTRUDE8_DEPTH, mode=Mode.SUBTRACT)

    # Sketch14 → Boss-Extrude4 (add)
    with BuildSketch(Plane(origin=(6.35, 0, 0), x_dir=(0, 0, -1), z_dir=(1, 0, 0))):
        with Locations((36.5, -259.525)):
            Circle(SKETCH14_R)
        with Locations((-36.5, -259.525)):
            Circle(SKETCH14_R)
    extrude(amount=-BOSS_EXTRUDE4_DEPTH)


solid = cut_extrude7_piece_2_1.part
